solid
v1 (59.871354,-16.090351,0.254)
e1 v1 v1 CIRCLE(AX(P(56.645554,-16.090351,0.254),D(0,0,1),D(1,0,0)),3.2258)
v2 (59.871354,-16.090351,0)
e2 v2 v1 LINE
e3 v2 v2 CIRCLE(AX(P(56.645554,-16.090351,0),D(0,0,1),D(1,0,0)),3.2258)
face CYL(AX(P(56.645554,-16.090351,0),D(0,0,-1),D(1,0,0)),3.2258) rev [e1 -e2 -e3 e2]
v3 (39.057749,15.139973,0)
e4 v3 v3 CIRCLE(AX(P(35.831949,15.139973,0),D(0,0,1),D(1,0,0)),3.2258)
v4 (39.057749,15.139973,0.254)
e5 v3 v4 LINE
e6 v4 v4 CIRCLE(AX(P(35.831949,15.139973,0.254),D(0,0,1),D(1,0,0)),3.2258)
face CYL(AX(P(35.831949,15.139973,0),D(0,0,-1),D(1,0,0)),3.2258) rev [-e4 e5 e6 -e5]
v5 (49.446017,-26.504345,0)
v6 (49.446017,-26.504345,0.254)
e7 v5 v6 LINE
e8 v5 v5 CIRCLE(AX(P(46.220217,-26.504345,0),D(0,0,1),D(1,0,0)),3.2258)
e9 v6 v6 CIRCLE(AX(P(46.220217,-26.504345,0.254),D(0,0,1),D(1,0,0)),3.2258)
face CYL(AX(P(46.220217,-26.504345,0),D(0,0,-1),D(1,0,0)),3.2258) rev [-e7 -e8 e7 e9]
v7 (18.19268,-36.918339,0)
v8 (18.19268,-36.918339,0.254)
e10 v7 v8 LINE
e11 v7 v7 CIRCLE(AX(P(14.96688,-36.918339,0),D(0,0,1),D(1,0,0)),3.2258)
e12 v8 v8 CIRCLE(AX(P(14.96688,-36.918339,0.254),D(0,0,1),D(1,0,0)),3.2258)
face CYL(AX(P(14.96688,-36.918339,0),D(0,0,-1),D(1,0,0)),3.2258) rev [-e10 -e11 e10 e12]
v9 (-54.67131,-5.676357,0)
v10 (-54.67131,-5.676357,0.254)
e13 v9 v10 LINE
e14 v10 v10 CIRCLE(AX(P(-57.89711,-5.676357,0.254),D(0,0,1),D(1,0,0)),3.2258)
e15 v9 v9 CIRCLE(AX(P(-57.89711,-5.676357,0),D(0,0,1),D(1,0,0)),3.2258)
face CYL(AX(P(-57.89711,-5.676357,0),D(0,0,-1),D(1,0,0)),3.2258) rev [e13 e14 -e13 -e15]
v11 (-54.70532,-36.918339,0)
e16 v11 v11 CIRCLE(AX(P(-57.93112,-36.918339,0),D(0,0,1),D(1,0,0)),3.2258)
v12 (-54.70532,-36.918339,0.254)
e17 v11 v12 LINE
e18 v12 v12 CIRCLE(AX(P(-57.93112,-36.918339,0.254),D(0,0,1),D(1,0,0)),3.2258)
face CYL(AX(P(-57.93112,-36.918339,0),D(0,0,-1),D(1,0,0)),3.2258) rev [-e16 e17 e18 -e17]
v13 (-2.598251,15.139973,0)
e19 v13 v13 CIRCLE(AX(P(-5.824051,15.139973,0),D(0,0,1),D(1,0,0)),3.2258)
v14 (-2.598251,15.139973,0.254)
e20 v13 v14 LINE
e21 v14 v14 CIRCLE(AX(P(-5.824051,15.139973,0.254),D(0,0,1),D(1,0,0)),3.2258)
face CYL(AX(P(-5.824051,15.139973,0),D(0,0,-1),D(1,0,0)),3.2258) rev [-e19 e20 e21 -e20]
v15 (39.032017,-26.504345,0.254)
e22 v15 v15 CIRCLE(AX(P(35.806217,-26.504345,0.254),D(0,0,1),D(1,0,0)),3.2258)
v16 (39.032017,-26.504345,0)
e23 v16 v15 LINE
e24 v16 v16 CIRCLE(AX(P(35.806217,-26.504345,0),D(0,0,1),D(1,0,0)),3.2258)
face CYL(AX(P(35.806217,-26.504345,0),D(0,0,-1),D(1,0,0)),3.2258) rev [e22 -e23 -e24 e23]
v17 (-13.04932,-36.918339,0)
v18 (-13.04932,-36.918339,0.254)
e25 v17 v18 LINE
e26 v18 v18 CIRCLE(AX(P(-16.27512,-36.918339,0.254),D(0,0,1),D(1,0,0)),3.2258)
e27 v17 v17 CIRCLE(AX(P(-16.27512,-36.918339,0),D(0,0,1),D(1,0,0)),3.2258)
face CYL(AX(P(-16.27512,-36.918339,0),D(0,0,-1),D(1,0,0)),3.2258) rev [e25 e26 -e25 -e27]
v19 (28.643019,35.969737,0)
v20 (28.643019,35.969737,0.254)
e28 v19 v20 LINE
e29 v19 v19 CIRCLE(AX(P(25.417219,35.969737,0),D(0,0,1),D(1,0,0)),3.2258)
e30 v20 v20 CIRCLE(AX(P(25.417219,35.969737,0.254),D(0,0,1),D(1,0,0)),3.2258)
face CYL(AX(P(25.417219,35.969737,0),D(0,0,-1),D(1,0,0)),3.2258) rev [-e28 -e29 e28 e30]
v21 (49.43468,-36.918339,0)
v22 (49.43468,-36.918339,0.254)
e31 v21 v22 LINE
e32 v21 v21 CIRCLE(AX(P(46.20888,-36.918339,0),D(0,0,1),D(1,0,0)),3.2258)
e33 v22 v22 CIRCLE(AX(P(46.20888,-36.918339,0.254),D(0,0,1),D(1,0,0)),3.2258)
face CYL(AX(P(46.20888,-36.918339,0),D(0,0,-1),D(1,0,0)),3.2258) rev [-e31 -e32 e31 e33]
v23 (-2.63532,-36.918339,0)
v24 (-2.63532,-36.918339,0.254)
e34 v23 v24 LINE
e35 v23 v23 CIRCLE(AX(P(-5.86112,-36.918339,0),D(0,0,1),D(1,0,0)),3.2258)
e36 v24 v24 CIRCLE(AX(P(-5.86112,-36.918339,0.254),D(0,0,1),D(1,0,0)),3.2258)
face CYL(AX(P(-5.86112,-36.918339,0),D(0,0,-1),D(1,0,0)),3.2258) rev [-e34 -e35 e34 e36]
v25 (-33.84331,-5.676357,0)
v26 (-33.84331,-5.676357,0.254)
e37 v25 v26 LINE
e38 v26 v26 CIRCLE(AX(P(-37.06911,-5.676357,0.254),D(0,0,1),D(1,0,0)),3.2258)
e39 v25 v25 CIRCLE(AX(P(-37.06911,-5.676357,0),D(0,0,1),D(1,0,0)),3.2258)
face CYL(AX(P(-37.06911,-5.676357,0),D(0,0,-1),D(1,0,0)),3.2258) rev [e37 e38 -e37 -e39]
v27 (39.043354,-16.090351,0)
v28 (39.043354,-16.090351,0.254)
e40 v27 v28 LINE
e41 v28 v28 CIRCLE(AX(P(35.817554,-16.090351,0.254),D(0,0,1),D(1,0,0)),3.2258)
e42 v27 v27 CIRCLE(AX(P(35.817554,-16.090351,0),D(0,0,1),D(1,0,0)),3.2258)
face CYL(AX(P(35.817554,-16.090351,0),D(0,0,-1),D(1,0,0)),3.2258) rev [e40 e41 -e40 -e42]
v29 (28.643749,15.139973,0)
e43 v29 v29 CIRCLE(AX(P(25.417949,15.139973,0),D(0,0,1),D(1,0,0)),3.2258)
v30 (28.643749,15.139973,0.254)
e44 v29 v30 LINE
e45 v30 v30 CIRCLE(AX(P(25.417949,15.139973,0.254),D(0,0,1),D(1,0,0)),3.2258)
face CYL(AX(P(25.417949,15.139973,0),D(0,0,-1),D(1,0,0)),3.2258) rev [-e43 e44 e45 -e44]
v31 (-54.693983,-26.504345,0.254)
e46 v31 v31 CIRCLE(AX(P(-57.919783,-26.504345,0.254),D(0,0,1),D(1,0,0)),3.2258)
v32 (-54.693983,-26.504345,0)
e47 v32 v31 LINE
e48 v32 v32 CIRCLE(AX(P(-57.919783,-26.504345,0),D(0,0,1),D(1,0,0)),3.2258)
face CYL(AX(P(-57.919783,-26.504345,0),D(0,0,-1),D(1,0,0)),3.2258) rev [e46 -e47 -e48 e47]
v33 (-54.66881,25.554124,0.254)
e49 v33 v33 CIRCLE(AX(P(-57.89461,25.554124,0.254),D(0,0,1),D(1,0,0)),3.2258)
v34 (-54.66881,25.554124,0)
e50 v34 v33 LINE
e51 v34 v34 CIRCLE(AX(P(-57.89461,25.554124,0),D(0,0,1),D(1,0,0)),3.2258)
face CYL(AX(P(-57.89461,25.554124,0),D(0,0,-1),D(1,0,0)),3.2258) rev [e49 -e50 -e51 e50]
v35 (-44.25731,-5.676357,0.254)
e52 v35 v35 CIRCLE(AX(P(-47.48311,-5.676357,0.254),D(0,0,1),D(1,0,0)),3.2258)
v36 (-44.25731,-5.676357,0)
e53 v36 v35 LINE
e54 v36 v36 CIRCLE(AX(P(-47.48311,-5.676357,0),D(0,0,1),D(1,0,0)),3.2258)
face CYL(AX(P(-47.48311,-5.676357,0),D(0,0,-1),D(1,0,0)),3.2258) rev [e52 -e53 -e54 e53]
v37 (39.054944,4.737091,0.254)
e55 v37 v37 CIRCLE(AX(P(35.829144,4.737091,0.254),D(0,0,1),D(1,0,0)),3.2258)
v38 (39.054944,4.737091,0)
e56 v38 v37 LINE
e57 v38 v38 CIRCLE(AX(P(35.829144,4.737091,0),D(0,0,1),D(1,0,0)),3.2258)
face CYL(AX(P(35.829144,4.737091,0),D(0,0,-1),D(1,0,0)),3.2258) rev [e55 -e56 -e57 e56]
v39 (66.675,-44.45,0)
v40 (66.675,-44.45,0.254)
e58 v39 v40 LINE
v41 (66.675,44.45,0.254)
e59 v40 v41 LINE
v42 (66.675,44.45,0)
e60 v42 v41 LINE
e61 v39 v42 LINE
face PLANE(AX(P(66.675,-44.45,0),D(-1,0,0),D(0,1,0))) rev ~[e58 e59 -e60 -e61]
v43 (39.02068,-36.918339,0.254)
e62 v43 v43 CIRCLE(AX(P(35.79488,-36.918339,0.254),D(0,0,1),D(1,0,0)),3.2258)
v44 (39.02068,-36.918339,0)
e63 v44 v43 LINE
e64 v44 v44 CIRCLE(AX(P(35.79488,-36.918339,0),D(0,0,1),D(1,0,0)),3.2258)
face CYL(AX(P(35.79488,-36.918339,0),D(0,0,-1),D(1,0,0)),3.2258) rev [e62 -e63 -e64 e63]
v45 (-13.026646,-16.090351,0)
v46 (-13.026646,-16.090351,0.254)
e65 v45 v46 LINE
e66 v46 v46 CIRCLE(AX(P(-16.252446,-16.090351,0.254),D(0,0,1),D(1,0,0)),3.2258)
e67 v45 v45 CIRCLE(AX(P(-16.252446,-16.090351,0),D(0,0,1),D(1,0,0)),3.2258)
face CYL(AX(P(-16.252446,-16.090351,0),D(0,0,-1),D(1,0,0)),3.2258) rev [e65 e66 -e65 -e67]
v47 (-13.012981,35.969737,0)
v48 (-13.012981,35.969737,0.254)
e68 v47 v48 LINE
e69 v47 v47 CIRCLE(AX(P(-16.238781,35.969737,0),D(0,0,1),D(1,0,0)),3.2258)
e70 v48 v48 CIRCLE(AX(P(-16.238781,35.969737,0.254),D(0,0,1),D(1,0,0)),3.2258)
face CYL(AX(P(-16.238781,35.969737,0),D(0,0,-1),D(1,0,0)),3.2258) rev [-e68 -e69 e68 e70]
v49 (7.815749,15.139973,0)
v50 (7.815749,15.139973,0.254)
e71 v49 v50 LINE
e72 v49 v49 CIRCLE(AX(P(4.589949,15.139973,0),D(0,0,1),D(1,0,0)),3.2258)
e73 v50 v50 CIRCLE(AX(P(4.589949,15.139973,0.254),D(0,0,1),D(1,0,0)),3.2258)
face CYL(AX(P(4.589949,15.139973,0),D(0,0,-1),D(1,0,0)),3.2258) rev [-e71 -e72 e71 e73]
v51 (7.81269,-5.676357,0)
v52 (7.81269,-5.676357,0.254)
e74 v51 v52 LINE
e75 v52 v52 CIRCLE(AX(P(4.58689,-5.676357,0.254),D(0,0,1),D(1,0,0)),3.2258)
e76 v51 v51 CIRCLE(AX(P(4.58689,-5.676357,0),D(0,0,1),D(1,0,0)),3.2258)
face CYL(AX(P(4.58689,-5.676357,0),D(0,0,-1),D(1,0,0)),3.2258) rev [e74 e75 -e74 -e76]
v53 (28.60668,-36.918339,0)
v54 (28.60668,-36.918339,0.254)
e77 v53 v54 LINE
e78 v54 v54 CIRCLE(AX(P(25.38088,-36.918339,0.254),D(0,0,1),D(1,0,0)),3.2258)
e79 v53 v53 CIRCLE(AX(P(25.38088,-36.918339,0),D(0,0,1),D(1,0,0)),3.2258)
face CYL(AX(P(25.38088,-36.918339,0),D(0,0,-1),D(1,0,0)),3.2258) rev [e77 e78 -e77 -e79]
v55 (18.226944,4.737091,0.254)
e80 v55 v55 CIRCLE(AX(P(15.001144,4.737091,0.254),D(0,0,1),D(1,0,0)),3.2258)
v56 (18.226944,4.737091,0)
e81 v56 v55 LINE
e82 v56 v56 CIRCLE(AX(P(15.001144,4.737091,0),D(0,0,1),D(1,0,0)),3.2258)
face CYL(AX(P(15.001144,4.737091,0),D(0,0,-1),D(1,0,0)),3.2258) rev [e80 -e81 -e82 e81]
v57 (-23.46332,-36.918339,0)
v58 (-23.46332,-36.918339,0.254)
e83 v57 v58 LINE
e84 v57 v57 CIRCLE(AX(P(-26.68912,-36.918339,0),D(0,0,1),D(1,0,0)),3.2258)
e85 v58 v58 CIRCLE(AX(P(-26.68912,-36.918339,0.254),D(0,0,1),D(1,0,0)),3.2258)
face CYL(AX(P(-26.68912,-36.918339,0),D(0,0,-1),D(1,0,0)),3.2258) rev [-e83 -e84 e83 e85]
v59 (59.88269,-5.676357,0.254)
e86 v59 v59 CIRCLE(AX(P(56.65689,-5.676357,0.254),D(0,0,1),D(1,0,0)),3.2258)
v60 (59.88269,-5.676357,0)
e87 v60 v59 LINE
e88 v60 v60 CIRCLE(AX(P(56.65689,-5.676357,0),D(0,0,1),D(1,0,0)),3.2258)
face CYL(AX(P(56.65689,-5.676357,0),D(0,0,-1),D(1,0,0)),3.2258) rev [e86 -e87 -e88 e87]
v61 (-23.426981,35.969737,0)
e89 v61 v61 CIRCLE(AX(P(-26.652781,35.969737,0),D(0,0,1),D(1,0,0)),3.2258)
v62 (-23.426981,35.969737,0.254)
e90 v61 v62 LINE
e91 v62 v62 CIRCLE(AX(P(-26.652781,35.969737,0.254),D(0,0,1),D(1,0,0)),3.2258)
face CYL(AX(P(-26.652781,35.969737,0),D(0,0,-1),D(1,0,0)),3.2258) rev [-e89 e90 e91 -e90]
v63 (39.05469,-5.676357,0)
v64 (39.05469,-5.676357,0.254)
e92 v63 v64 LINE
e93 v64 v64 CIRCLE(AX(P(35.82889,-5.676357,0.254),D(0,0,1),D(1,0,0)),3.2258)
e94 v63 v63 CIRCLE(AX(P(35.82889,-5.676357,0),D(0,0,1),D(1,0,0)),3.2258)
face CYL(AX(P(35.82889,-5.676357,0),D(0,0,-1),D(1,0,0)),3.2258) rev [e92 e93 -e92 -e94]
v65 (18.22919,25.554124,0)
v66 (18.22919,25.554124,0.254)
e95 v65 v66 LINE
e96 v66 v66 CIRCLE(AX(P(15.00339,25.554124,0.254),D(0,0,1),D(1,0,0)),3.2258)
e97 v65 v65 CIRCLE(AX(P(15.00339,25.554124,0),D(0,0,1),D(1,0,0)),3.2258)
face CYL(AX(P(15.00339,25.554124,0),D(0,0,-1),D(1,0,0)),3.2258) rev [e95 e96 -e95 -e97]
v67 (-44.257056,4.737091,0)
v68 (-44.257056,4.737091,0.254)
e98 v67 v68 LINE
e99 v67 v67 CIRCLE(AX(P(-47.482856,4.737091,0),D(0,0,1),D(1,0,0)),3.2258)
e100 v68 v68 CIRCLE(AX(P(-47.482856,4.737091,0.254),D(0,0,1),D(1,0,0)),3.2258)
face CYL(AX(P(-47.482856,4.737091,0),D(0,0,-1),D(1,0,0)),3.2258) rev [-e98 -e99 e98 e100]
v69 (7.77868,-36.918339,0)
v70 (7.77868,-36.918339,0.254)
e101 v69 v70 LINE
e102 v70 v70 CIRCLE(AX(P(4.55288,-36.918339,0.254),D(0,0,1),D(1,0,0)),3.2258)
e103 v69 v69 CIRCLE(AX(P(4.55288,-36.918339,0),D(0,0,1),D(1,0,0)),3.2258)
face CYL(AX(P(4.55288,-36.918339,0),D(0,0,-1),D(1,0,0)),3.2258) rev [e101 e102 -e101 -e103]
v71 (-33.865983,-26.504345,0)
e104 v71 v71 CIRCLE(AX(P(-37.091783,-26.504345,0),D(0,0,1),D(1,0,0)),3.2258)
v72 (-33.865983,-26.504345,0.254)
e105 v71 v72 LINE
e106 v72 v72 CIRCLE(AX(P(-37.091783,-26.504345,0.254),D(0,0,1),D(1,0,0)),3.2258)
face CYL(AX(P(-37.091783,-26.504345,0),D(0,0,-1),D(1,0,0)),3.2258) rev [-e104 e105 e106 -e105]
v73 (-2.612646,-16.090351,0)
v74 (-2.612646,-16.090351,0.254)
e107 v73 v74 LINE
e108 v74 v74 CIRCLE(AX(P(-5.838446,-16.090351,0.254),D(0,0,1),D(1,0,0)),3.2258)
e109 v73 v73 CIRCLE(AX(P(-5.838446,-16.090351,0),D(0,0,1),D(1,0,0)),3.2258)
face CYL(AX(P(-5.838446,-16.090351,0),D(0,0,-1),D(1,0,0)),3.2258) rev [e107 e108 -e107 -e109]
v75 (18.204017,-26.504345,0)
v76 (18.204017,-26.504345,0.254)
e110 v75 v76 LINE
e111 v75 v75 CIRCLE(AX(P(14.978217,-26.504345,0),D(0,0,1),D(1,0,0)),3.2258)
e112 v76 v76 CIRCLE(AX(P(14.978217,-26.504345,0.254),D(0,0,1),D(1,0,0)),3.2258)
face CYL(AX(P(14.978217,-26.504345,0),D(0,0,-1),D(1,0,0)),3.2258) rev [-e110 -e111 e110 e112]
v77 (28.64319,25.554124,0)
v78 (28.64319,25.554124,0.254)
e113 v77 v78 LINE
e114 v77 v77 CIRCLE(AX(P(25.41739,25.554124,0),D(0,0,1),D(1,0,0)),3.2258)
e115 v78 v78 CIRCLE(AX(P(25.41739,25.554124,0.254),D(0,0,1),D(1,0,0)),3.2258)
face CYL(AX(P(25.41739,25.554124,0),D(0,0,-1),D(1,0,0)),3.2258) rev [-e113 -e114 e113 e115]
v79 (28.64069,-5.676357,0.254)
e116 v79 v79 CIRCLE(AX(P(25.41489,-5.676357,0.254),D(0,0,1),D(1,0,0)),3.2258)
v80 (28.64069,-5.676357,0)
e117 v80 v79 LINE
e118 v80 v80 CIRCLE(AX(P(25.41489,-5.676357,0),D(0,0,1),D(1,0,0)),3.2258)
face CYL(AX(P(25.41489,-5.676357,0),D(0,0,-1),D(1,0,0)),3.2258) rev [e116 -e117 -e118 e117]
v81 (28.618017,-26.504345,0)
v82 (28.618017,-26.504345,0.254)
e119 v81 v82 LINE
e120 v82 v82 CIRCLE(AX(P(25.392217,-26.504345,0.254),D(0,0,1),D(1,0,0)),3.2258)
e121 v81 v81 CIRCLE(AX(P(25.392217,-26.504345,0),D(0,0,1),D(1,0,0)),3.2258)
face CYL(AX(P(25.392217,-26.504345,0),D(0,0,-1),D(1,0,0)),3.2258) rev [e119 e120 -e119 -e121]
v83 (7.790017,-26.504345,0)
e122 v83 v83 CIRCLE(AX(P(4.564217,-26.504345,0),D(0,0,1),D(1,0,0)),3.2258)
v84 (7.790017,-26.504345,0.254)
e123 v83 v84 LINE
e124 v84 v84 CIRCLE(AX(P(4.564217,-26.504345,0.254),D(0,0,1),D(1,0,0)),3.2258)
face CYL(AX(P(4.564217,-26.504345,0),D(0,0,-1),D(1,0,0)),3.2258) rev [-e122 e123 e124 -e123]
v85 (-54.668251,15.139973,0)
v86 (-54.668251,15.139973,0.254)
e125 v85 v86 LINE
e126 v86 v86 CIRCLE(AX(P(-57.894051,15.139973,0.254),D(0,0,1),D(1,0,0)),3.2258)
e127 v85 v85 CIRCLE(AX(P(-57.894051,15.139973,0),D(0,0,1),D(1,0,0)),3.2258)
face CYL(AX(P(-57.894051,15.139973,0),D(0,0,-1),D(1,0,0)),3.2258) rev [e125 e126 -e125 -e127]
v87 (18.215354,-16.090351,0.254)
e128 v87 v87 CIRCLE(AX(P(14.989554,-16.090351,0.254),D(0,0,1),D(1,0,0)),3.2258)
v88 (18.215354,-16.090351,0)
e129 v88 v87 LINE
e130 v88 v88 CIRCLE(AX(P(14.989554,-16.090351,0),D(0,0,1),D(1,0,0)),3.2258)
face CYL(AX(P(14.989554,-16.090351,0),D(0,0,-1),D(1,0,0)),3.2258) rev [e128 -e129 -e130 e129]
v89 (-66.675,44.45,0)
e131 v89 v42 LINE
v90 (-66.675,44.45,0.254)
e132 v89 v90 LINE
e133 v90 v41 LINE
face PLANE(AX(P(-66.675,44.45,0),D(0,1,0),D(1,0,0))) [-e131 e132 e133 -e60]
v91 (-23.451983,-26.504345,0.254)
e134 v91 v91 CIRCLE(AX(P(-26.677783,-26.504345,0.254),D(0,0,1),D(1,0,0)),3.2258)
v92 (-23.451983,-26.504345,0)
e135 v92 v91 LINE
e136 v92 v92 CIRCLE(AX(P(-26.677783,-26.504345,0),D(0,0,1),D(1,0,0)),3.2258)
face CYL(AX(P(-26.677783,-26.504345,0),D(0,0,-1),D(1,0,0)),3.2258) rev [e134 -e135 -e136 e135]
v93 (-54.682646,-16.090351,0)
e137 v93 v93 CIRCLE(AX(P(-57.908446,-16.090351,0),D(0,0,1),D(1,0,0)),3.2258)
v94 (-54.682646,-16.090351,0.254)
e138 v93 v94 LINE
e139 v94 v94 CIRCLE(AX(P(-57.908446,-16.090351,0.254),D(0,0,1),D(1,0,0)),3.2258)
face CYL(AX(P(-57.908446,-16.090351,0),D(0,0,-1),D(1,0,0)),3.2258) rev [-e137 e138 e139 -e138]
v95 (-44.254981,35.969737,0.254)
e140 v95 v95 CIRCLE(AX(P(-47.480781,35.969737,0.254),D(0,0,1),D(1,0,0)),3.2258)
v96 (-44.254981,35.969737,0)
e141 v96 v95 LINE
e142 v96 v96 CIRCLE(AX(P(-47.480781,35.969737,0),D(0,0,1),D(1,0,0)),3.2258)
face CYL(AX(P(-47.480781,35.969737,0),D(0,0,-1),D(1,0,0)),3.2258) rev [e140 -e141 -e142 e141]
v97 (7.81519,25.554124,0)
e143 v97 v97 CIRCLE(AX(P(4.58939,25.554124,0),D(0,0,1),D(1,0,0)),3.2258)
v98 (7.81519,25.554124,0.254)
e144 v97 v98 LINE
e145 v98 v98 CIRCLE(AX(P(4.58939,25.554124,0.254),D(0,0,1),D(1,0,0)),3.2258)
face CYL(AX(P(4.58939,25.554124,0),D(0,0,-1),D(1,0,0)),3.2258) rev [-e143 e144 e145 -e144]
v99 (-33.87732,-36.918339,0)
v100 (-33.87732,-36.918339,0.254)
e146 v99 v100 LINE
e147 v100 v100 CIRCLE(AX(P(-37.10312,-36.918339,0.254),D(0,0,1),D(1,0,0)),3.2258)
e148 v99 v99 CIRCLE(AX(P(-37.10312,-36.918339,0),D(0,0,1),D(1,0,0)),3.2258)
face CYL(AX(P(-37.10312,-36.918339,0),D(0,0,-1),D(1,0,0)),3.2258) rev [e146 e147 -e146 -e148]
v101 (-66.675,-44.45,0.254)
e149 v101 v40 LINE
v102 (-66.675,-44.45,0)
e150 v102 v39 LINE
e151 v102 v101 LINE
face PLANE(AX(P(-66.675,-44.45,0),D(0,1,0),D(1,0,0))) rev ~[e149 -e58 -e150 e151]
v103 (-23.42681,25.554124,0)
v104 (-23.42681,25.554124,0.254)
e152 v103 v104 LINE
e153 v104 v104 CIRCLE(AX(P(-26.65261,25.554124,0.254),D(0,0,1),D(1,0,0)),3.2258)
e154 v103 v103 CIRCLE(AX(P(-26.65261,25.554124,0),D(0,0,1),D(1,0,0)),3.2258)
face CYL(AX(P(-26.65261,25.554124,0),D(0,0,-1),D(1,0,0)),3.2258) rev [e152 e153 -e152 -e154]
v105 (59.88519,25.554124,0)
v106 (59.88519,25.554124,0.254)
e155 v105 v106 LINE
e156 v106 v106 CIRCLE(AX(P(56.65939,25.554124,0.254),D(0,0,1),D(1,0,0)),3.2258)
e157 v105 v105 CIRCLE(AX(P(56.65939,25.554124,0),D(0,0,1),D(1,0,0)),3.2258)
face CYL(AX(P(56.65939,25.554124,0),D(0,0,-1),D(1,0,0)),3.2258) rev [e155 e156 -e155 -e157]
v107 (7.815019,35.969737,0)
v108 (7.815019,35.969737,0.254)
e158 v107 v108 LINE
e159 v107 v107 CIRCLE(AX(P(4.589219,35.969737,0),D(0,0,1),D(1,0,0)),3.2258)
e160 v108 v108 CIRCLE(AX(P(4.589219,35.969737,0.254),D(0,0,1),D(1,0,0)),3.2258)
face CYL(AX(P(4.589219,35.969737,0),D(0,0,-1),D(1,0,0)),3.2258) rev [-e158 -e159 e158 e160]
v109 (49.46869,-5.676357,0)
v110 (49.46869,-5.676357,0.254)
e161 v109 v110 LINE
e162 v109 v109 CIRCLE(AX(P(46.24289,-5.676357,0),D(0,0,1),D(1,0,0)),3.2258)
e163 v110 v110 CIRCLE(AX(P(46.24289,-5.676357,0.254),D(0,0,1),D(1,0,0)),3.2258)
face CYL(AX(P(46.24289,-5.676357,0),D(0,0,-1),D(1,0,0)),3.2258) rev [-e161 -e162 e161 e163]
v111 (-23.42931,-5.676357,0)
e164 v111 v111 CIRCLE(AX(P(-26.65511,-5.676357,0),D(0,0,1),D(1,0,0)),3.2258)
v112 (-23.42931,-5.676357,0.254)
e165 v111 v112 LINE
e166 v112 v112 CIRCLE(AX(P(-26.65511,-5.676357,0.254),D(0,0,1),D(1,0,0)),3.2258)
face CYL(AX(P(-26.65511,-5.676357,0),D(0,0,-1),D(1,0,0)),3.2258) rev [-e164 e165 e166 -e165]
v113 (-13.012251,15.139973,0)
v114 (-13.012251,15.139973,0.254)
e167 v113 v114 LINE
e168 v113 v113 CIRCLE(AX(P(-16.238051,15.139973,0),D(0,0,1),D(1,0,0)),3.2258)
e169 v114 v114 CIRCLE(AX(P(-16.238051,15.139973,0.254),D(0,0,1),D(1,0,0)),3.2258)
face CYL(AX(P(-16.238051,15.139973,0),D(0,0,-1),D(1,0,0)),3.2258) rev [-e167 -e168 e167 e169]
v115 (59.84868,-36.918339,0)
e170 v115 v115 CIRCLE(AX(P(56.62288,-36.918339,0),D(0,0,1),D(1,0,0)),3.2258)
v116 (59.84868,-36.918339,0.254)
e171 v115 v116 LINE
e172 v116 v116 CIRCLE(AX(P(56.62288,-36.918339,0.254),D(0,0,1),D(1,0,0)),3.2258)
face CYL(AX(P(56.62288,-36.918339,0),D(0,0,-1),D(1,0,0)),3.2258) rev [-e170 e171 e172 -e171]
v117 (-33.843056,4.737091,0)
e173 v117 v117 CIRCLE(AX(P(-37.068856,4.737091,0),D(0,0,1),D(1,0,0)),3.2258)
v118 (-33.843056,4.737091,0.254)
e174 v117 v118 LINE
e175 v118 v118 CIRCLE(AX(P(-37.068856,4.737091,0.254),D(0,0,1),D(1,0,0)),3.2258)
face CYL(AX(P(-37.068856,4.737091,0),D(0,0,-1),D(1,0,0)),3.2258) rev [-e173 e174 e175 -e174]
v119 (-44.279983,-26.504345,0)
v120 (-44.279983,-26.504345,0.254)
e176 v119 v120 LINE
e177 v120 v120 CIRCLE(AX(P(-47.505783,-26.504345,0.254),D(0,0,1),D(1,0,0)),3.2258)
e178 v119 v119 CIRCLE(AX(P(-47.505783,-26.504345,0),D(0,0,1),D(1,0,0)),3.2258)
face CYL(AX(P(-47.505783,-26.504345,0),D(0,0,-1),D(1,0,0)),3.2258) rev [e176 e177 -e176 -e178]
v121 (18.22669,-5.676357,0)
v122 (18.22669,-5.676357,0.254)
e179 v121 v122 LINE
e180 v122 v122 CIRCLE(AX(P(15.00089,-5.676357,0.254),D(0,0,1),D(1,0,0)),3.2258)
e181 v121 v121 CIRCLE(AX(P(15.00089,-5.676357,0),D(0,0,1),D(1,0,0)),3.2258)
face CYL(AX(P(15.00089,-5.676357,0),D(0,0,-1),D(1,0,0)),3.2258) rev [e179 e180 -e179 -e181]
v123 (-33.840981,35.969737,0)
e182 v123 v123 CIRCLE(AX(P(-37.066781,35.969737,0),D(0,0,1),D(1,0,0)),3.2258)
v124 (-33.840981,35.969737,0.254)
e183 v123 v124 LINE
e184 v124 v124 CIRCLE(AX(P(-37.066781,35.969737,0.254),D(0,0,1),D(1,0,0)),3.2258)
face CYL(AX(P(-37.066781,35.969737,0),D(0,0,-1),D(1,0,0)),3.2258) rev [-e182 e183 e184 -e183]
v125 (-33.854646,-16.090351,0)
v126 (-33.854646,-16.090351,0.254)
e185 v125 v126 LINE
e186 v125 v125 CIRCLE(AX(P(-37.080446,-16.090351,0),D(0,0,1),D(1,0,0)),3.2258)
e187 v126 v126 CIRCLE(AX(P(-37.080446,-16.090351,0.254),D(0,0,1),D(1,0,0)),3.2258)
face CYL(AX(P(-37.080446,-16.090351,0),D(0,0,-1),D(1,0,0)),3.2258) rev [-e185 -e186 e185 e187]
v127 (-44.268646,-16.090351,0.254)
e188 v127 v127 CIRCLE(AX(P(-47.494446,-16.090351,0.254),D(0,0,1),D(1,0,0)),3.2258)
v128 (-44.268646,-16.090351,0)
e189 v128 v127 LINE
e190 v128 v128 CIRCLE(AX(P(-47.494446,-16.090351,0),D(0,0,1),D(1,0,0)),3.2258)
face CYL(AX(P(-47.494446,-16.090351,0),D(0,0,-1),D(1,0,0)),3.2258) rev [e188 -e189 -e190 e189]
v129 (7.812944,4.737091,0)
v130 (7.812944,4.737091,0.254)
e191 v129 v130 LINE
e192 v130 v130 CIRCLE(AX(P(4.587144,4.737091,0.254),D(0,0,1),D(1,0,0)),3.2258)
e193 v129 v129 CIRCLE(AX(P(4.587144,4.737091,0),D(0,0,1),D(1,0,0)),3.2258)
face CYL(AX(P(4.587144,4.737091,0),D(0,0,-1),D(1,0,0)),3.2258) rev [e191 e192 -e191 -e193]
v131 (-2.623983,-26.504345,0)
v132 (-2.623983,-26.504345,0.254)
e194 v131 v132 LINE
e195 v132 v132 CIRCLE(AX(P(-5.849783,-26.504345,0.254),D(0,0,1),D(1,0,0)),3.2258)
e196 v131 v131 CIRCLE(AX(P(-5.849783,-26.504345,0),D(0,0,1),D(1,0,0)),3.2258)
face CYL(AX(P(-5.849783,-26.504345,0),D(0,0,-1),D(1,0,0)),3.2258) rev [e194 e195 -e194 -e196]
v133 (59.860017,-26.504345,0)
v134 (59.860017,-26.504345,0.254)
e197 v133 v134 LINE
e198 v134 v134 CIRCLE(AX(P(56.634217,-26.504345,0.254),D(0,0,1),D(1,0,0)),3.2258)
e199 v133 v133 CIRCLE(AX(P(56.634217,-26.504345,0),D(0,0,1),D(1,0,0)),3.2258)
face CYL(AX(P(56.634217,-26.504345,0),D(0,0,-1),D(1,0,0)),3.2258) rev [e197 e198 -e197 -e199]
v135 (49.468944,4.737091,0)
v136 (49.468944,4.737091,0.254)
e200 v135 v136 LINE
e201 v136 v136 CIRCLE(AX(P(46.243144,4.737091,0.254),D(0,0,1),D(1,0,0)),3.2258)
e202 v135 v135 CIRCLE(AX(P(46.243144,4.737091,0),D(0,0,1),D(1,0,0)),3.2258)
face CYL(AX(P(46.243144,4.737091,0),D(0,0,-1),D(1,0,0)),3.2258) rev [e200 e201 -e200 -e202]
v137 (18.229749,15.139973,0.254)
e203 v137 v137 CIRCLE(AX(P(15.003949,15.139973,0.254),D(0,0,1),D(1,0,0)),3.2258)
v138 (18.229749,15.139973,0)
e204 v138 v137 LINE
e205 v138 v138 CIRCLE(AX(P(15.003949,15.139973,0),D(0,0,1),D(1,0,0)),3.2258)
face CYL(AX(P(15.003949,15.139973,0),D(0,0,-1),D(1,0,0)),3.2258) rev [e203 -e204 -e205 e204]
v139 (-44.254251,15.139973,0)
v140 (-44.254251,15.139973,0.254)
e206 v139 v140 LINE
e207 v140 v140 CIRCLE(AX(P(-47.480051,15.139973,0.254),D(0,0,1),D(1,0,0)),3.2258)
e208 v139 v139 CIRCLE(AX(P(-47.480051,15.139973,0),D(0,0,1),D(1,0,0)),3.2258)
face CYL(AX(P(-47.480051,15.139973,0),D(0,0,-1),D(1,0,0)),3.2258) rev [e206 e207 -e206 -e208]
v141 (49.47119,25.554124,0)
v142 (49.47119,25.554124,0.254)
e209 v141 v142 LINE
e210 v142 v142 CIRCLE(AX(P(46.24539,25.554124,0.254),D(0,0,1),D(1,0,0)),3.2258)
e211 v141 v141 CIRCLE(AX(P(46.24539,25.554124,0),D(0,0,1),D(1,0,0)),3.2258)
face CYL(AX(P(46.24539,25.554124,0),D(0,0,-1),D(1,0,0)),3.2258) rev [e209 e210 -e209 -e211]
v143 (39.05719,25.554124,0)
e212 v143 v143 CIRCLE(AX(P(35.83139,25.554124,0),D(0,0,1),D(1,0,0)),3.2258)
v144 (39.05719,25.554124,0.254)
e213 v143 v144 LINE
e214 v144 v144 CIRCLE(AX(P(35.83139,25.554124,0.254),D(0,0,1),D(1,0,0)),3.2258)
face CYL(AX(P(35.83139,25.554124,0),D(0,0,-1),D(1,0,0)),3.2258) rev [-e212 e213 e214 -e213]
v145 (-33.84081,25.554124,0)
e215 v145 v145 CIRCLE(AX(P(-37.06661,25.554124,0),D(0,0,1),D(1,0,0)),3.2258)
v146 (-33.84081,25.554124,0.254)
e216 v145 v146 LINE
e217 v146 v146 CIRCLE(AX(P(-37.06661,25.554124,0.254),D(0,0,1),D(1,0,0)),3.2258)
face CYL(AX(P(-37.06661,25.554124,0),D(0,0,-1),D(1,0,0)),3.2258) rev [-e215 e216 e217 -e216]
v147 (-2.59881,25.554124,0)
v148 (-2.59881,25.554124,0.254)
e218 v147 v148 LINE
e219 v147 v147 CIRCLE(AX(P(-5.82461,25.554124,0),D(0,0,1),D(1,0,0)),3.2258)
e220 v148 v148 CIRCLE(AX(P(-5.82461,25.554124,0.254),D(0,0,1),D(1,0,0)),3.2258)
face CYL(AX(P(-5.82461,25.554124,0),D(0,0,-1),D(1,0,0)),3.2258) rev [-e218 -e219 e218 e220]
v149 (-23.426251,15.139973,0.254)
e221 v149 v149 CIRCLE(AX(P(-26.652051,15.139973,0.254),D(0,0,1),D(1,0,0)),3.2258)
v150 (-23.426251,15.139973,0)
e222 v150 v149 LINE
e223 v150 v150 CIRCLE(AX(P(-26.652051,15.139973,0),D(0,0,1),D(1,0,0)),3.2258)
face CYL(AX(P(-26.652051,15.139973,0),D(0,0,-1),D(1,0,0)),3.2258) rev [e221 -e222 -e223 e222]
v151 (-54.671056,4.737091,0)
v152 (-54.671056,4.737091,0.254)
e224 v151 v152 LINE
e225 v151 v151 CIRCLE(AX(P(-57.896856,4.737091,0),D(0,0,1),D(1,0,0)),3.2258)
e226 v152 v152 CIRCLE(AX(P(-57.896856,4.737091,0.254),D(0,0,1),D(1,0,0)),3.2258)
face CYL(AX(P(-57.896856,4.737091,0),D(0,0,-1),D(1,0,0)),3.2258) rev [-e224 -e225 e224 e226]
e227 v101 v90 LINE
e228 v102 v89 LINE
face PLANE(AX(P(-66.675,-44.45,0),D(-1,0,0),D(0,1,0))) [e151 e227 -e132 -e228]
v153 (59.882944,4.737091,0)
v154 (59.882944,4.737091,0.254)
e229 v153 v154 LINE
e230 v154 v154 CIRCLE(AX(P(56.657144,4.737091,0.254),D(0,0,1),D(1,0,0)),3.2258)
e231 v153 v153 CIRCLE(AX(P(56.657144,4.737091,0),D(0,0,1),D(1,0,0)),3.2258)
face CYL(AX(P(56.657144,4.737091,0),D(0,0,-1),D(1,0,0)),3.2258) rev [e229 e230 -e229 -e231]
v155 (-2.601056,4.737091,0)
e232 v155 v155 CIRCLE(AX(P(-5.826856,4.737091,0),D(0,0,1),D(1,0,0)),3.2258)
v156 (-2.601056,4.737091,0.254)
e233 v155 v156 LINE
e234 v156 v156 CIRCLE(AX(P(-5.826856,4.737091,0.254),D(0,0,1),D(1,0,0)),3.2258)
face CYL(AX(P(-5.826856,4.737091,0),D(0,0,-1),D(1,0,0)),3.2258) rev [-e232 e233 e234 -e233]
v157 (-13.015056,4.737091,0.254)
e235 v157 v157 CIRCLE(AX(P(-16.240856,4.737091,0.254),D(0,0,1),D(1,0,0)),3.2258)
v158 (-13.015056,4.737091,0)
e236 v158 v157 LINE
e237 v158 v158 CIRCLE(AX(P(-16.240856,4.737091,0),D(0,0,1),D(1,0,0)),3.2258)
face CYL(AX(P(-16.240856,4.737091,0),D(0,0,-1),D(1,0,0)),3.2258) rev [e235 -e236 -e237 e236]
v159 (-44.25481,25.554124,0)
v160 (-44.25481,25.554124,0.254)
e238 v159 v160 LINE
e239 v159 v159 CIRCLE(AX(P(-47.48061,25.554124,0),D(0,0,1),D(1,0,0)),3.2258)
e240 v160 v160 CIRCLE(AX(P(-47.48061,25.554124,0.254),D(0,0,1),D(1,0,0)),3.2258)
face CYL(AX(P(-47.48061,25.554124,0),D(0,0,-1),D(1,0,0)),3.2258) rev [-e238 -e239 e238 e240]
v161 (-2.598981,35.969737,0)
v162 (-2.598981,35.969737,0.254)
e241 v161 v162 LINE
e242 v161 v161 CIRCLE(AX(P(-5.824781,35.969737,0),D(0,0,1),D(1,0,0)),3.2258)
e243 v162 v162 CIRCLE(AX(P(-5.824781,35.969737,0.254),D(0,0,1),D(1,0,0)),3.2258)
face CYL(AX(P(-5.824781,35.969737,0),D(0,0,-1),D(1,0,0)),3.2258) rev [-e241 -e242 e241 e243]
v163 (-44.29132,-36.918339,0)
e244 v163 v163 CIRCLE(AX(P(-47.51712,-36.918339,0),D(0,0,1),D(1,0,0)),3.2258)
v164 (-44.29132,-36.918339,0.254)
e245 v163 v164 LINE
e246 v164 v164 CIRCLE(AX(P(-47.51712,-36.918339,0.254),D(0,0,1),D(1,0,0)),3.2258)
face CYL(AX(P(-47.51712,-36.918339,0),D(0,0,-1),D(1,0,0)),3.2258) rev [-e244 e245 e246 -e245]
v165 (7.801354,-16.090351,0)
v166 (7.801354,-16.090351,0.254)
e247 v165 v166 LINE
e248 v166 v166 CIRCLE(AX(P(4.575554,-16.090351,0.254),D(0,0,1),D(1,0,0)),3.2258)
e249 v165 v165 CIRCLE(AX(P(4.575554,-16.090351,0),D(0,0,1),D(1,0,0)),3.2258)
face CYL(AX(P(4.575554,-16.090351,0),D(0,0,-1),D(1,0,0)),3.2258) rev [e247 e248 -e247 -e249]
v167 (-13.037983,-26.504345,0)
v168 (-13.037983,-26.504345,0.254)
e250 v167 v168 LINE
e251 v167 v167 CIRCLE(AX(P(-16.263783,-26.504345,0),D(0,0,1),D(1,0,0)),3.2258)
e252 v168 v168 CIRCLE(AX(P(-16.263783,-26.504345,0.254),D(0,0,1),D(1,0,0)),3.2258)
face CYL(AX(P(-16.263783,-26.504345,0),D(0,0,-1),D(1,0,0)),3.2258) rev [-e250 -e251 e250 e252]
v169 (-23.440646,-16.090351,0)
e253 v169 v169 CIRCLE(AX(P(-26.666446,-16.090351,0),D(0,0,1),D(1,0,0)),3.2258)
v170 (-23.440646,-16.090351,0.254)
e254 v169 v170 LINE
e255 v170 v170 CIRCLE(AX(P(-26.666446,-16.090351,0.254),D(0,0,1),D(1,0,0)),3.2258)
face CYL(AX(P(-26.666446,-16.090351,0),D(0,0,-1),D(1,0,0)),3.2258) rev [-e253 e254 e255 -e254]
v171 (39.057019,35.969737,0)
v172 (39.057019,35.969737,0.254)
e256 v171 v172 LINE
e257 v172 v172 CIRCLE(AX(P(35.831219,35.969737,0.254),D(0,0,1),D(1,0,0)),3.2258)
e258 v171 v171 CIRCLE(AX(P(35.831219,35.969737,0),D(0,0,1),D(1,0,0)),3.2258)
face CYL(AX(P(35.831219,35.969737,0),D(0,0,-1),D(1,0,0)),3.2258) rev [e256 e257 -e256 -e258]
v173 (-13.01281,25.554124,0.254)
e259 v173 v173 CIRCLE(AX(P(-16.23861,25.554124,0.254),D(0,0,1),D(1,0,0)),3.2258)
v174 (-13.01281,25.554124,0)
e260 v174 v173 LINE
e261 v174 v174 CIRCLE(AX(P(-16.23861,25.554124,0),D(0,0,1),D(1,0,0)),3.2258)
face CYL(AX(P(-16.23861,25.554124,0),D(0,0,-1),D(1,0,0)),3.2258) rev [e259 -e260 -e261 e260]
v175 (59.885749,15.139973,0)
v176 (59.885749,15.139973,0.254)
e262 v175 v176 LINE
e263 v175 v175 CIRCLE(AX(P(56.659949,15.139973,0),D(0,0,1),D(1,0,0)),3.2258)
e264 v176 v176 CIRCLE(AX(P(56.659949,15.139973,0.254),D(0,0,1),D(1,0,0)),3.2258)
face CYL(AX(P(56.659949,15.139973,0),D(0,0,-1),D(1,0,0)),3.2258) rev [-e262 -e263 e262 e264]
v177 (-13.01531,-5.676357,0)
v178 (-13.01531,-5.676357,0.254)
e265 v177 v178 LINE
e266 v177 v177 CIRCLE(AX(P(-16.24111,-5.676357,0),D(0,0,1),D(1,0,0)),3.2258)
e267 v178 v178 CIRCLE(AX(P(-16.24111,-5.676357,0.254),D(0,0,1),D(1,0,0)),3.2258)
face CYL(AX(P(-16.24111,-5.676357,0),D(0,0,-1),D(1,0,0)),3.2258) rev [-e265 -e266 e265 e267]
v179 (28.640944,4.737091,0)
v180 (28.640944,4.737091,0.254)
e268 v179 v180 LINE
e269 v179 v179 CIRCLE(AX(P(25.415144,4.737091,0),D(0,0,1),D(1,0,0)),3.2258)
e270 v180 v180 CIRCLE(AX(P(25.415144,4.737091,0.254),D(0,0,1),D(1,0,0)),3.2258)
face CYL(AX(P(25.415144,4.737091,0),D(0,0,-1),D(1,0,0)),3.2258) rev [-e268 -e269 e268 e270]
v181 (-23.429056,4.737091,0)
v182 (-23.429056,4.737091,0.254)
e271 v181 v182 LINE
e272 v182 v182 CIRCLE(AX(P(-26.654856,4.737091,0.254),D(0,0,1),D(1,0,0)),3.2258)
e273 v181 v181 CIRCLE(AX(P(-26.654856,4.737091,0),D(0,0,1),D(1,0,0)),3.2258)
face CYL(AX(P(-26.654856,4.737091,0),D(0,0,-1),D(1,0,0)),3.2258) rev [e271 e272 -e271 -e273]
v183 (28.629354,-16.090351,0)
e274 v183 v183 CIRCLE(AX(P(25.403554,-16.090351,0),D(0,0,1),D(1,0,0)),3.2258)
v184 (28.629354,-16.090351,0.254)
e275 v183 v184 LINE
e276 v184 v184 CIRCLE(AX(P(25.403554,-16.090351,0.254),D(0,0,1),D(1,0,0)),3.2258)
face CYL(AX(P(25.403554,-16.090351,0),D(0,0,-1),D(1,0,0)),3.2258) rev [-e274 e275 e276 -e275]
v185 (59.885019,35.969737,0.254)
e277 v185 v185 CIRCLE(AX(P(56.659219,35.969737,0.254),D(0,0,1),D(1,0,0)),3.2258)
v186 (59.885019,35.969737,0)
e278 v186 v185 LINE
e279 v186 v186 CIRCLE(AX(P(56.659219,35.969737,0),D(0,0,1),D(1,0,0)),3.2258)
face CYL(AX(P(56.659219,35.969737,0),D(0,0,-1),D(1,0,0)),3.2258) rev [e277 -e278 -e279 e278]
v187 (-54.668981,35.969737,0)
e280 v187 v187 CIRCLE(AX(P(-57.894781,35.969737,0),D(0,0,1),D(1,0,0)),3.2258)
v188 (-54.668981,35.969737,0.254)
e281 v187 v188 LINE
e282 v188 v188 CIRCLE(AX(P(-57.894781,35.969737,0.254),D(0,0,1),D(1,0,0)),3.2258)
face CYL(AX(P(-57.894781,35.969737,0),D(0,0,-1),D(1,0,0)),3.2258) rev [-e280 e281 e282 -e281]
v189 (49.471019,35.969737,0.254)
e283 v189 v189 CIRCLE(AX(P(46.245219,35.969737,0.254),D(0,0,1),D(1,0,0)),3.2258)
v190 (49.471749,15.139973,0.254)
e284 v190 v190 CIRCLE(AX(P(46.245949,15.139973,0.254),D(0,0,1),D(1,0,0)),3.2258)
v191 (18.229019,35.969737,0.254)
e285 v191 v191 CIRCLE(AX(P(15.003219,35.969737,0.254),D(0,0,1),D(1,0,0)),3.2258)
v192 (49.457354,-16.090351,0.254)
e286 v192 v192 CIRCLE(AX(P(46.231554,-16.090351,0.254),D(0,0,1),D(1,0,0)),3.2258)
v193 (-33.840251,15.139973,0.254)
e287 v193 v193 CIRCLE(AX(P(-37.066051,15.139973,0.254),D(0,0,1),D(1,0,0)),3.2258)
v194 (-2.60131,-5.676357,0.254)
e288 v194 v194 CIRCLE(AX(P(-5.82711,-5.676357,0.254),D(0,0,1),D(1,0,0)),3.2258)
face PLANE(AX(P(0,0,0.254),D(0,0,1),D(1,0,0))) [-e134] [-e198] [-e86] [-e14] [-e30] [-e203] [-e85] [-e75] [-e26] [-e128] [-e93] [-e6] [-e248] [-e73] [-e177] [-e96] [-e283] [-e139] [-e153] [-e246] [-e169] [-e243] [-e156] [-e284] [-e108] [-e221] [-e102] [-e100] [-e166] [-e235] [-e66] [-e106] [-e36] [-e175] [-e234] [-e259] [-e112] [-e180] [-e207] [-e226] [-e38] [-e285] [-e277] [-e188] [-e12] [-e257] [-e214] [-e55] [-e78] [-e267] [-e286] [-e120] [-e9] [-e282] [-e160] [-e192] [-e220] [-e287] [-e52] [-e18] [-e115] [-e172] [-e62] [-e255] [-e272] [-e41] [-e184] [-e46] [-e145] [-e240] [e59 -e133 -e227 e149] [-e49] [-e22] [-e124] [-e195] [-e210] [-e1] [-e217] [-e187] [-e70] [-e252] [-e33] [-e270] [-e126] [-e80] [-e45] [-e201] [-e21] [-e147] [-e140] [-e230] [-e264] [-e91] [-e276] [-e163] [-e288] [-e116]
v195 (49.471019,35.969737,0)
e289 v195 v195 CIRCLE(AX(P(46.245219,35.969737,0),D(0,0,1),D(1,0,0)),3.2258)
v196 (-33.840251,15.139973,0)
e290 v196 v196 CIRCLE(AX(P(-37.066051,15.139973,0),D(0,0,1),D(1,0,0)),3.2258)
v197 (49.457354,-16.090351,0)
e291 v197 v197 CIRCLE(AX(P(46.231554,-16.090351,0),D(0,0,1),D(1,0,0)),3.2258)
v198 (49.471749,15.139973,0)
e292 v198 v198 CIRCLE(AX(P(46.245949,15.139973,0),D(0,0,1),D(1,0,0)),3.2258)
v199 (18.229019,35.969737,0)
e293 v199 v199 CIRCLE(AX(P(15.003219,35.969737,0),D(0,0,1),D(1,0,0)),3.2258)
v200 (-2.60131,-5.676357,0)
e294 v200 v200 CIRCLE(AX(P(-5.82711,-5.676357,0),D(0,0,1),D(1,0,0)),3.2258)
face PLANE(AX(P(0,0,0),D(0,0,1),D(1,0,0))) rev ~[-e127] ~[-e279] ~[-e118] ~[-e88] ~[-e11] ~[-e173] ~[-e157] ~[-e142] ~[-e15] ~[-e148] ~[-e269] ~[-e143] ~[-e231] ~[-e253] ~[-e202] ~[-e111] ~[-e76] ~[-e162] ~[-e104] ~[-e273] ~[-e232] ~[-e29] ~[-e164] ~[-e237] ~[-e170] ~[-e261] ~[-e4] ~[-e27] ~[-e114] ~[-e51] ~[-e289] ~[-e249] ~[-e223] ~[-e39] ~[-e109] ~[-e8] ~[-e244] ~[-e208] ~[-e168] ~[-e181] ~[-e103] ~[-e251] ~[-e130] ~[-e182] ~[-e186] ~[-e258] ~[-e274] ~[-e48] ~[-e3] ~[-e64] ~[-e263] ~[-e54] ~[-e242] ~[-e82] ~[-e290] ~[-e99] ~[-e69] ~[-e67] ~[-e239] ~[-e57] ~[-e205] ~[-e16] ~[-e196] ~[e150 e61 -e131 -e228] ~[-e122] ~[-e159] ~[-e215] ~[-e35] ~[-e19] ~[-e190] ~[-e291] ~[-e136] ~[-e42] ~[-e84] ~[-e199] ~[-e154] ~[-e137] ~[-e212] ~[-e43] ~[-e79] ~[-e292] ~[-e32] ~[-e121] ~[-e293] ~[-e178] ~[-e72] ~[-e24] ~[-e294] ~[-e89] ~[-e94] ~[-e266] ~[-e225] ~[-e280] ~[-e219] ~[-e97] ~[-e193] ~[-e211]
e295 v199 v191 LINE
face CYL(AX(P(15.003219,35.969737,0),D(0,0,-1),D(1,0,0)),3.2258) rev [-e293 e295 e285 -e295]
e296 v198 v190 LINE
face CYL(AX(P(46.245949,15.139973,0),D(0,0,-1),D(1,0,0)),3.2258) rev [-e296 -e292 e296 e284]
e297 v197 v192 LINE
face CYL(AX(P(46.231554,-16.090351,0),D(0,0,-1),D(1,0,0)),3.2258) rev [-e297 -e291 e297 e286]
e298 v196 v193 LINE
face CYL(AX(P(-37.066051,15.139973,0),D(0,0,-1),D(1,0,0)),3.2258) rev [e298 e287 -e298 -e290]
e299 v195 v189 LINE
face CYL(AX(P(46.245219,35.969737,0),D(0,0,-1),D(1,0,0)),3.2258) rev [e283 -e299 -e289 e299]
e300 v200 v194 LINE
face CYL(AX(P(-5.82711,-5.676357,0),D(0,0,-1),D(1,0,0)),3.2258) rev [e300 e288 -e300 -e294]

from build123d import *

# Parameters (mm, degrees)
F0_W     = 133.35
F0_H     = 88.9
F6_DEPTH = 0.254
F1_R     = 3.2258
F2_R     = 3.2258
F3_R     = 3.2258
F4_R     = 3.2258
F5_R     = 3.2258
F7_DEPTH = 0.254


with BuildPart() as f6:
    # F0 (on Top) → F6 (new body)
    with BuildSketch(Plane.XY):
        Rectangle(F0_W, F0_H)
    extrude(amount=F6_DEPTH)

    # F1 (on face) + F2 (on Top) + F3 (on Top) + F4 (on Top) + F5 (on face) → F7 (cut)
    with BuildSketch(Plane.XY):
        with Locations((-57.894781, 35.969737)):
            Circle(F1_R)
        with Locations((-47.480781, 35.969737)):
            Circle(F1_R)
        with Locations((-37.066781, 35.969737)):
            Circle(F1_R)
        with Locations((-26.652781, 35.969737)):
            Circle(F1_R)
        with Locations((-16.238781, 35.969737)):
            Circle(F1_R)
        with Locations((-5.824781, 35.969737)):
            Circle(F1_R)
        with Locations((4.589219, 35.969737)):
            Circle(F1_R)
        with Locations((15.003219, 35.969737)):
            Circle(F1_R)
        with Locations((25.417219, 35.969737)):
            Circle(F1_R)
        with Locations((35.831219, 35.969737)):
            Circle(F1_R)
        with Locations((46.245219, 35.969737)):
            Circle(F1_R)
        with Locations((56.659219, 35.969737)):
            Circle(F1_R)
    with BuildSketch(Plane.XY):
        with Locations((-57.89461, 25.554124)):
            Circle(F2_R)
        with Locations((-47.48061, 25.554124)):
            Circle(F2_R)
        with Locations((-37.06661, 25.554124)):
            Circle(F2_R)
        with Locations((-26.65261, 25.554124)):
            Circle(F2_R)
        with Locations((-16.23861, 25.554124)):
            Circle(F2_R)
        with Locations((-5.82461, 25.554124)):
            Circle(F2_R)
        with Locations((4.58939, 25.554124)):
            Circle(F2_R)
        with Locations((15.00339, 25.554124)):
            Circle(F2_R)
        with Locations((25.41739, 25.554124)):
            Circle(F2_R)
        with Locations((35.83139, 25.554124)):
            Circle(F2_R)
        with Locations((46.24539, 25.554124)):
            Circle(F2_R)
        with Locations((56.65939, 25.554124)):
            Circle(F2_R)
    with BuildSketch(Plane.XY):
        with Locations((-57.894051, 15.139973)):
            Circle(F3_R)
        with Locations((-47.480051, 15.139973)):
            Circle(F3_R)
        with Locations((-37.066051, 15.139973)):
            Circle(F3_R)
        with Locations((-26.652051, 15.139973)):
            Circle(F3_R)
        with Locations((-16.238051, 15.139973)):
            Circle(F3_R)
        with Locations((-5.824051, 15.139973)):
            Circle(F3_R)
        with Locations((4.589949, 15.139973)):
            Circle(F3_R)
        with Locations((15.003949, 15.139973)):
            Circle(F3_R)
        with Locations((25.417949, 15.139973)):
            Circle(F3_R)
        with Locations((35.831949, 15.139973)):
            Circle(F3_R)
        with Locations((46.245949, 15.139973)):
            Circle(F3_R)
        with Locations((56.659949, 15.139973)):
            Circle(F3_R)
    with BuildSketch(Plane.XY):
        with Locations((-57.896856, 4.737091)):
            Circle(F4_R)
        with Locations((-47.482856, 4.737091)):
            Circle(F4_R)
        with Locations((-37.068856, 4.737091)):
            Circle(F4_R)
        with Locations((-26.654856, 4.737091)):
            Circle(F4_R)
        with Locations((-16.240856, 4.737091)):
            Circle(F4_R)
        with Locations((-5.826856, 4.737091)):
            Circle(F4_R)
        with Locations((4.587144, 4.737091)):
            Circle(F4_R)
        with Locations((15.001144, 4.737091)):
            Circle(F4_R)
        with Locations((25.415144, 4.737091)):
            Circle(F4_R)
        with Locations((35.829144, 4.737091)):
            Circle(F4_R)
        with Locations((46.243144, 4.737091)):
            Circle(F4_R)
        with Locations((56.657144, 4.737091)):
            Circle(F4_R)
    with BuildSketch(Plane.XY):
        with Locations((-57.89711, -5.676357)):
            Circle(F5_R)
        with Locations((-57.908446, -16.090351)):
            Circle(F5_R)
        with Locations((-57.919783, -26.504345)):
            Circle(F5_R)
        with Locations((-57.93112, -36.918339)):
            Circle(F5_R)
        with Locations((-47.48311, -5.676357)):
            Circle(F5_R)
        with Locations((-47.494446, -16.090351)):
            Circle(F5_R)
        with Locations((-47.505783, -26.504345)):
            Circle(F5_R)
        with Locations((-47.51712, -36.918339)):
            Circle(F5_R)
        with Locations((-37.06911, -5.676357)):
            Circle(F5_R)
        with Locations((-37.080446, -16.090351)):
            Circle(F5_R)
        with Locations((-37.091783, -26.504345)):
            Circle(F5_R)
        with Locations((-37.10312, -36.918339)):
            Circle(F5_R)
        with Locations((-26.65511, -5.676357)):
            Circle(F5_R)
        with Locations((-26.666446, -16.090351)):
            Circle(F5_R)
        with Locations((-26.677783, -26.504345)):
            Circle(F5_R)
        with Locations((-26.68912, -36.918339)):
            Circle(F5_R)
        with Locations((-16.24111, -5.676357)):
            Circle(F5_R)
        with Locations((-16.252446, -16.090351)):
            Circle(F5_R)
        with Locations((-16.263783, -26.504345)):
            Circle(F5_R)
        with Locations((-16.27512, -36.918339)):
            Circle(F5_R)
        with Locations((-5.82711, -5.676357)):
            Circle(F5_R)
        with Locations((-5.838446, -16.090351)):
            Circle(F5_R)
        with Locations((-5.849783, -26.504345)):
            Circle(F5_R)
        with Locations((-5.86112, -36.918339)):
            Circle(F5_R)
        with Locations((4.58689, -5.676357)):
            Circle(F5_R)
        with Locations((4.575554, -16.090351)):
            Circle(F5_R)
        with Locations((4.564217, -26.504345)):
            Circle(F5_R)
        with Locations((4.55288, -36.918339)):
            Circle(F5_R)
        with Locations((15.00089, -5.676357)):
            Circle(F5_R)
        with Locations((14.989554, -16.090351)):
            Circle(F5_R)
        with Locations((14.978217, -26.504345)):
            Circle(F5_R)
        with Locations((14.96688, -36.918339)):
            Circle(F5_R)
        with Locations((25.41489, -5.676357)):
            Circle(F5_R)
        with Locations((25.403554, -16.090351)):
            Circle(F5_R)
        with Locations((25.392217, -26.504345)):
            Circle(F5_R)
        with Locations((25.38088, -36.918339)):
            Circle(F5_R)
        with Locations((35.82889, -5.676357)):
            Circle(F5_R)
        with Locations((35.817554, -16.090351)):
            Circle(F5_R)
        with Locations((35.806217, -26.504345)):
            Circle(F5_R)
        with Locations((35.79488, -36.918339)):
            Circle(F5_R)
        with Locations((46.24289, -5.676357)):
            Circle(F5_R)
        with Locations((46.231554, -16.090351)):
            Circle(F5_R)
        with Locations((46.220217, -26.504345)):
            Circle(F5_R)
        with Locations((46.20888, -36.918339)):
            Circle(F5_R)
        with Locations((56.65689, -5.676357)):
            Circle(F5_R)
        with Locations((56.645554, -16.090351)):
            Circle(F5_R)
        with Locations((56.634217, -26.504345)):
            Circle(F5_R)
        with Locations((56.62288, -36.918339)):
            Circle(F5_R)
    extrude(amount=F7_DEPTH, mode=Mode.SUBTRACT)


solid = f6.part
